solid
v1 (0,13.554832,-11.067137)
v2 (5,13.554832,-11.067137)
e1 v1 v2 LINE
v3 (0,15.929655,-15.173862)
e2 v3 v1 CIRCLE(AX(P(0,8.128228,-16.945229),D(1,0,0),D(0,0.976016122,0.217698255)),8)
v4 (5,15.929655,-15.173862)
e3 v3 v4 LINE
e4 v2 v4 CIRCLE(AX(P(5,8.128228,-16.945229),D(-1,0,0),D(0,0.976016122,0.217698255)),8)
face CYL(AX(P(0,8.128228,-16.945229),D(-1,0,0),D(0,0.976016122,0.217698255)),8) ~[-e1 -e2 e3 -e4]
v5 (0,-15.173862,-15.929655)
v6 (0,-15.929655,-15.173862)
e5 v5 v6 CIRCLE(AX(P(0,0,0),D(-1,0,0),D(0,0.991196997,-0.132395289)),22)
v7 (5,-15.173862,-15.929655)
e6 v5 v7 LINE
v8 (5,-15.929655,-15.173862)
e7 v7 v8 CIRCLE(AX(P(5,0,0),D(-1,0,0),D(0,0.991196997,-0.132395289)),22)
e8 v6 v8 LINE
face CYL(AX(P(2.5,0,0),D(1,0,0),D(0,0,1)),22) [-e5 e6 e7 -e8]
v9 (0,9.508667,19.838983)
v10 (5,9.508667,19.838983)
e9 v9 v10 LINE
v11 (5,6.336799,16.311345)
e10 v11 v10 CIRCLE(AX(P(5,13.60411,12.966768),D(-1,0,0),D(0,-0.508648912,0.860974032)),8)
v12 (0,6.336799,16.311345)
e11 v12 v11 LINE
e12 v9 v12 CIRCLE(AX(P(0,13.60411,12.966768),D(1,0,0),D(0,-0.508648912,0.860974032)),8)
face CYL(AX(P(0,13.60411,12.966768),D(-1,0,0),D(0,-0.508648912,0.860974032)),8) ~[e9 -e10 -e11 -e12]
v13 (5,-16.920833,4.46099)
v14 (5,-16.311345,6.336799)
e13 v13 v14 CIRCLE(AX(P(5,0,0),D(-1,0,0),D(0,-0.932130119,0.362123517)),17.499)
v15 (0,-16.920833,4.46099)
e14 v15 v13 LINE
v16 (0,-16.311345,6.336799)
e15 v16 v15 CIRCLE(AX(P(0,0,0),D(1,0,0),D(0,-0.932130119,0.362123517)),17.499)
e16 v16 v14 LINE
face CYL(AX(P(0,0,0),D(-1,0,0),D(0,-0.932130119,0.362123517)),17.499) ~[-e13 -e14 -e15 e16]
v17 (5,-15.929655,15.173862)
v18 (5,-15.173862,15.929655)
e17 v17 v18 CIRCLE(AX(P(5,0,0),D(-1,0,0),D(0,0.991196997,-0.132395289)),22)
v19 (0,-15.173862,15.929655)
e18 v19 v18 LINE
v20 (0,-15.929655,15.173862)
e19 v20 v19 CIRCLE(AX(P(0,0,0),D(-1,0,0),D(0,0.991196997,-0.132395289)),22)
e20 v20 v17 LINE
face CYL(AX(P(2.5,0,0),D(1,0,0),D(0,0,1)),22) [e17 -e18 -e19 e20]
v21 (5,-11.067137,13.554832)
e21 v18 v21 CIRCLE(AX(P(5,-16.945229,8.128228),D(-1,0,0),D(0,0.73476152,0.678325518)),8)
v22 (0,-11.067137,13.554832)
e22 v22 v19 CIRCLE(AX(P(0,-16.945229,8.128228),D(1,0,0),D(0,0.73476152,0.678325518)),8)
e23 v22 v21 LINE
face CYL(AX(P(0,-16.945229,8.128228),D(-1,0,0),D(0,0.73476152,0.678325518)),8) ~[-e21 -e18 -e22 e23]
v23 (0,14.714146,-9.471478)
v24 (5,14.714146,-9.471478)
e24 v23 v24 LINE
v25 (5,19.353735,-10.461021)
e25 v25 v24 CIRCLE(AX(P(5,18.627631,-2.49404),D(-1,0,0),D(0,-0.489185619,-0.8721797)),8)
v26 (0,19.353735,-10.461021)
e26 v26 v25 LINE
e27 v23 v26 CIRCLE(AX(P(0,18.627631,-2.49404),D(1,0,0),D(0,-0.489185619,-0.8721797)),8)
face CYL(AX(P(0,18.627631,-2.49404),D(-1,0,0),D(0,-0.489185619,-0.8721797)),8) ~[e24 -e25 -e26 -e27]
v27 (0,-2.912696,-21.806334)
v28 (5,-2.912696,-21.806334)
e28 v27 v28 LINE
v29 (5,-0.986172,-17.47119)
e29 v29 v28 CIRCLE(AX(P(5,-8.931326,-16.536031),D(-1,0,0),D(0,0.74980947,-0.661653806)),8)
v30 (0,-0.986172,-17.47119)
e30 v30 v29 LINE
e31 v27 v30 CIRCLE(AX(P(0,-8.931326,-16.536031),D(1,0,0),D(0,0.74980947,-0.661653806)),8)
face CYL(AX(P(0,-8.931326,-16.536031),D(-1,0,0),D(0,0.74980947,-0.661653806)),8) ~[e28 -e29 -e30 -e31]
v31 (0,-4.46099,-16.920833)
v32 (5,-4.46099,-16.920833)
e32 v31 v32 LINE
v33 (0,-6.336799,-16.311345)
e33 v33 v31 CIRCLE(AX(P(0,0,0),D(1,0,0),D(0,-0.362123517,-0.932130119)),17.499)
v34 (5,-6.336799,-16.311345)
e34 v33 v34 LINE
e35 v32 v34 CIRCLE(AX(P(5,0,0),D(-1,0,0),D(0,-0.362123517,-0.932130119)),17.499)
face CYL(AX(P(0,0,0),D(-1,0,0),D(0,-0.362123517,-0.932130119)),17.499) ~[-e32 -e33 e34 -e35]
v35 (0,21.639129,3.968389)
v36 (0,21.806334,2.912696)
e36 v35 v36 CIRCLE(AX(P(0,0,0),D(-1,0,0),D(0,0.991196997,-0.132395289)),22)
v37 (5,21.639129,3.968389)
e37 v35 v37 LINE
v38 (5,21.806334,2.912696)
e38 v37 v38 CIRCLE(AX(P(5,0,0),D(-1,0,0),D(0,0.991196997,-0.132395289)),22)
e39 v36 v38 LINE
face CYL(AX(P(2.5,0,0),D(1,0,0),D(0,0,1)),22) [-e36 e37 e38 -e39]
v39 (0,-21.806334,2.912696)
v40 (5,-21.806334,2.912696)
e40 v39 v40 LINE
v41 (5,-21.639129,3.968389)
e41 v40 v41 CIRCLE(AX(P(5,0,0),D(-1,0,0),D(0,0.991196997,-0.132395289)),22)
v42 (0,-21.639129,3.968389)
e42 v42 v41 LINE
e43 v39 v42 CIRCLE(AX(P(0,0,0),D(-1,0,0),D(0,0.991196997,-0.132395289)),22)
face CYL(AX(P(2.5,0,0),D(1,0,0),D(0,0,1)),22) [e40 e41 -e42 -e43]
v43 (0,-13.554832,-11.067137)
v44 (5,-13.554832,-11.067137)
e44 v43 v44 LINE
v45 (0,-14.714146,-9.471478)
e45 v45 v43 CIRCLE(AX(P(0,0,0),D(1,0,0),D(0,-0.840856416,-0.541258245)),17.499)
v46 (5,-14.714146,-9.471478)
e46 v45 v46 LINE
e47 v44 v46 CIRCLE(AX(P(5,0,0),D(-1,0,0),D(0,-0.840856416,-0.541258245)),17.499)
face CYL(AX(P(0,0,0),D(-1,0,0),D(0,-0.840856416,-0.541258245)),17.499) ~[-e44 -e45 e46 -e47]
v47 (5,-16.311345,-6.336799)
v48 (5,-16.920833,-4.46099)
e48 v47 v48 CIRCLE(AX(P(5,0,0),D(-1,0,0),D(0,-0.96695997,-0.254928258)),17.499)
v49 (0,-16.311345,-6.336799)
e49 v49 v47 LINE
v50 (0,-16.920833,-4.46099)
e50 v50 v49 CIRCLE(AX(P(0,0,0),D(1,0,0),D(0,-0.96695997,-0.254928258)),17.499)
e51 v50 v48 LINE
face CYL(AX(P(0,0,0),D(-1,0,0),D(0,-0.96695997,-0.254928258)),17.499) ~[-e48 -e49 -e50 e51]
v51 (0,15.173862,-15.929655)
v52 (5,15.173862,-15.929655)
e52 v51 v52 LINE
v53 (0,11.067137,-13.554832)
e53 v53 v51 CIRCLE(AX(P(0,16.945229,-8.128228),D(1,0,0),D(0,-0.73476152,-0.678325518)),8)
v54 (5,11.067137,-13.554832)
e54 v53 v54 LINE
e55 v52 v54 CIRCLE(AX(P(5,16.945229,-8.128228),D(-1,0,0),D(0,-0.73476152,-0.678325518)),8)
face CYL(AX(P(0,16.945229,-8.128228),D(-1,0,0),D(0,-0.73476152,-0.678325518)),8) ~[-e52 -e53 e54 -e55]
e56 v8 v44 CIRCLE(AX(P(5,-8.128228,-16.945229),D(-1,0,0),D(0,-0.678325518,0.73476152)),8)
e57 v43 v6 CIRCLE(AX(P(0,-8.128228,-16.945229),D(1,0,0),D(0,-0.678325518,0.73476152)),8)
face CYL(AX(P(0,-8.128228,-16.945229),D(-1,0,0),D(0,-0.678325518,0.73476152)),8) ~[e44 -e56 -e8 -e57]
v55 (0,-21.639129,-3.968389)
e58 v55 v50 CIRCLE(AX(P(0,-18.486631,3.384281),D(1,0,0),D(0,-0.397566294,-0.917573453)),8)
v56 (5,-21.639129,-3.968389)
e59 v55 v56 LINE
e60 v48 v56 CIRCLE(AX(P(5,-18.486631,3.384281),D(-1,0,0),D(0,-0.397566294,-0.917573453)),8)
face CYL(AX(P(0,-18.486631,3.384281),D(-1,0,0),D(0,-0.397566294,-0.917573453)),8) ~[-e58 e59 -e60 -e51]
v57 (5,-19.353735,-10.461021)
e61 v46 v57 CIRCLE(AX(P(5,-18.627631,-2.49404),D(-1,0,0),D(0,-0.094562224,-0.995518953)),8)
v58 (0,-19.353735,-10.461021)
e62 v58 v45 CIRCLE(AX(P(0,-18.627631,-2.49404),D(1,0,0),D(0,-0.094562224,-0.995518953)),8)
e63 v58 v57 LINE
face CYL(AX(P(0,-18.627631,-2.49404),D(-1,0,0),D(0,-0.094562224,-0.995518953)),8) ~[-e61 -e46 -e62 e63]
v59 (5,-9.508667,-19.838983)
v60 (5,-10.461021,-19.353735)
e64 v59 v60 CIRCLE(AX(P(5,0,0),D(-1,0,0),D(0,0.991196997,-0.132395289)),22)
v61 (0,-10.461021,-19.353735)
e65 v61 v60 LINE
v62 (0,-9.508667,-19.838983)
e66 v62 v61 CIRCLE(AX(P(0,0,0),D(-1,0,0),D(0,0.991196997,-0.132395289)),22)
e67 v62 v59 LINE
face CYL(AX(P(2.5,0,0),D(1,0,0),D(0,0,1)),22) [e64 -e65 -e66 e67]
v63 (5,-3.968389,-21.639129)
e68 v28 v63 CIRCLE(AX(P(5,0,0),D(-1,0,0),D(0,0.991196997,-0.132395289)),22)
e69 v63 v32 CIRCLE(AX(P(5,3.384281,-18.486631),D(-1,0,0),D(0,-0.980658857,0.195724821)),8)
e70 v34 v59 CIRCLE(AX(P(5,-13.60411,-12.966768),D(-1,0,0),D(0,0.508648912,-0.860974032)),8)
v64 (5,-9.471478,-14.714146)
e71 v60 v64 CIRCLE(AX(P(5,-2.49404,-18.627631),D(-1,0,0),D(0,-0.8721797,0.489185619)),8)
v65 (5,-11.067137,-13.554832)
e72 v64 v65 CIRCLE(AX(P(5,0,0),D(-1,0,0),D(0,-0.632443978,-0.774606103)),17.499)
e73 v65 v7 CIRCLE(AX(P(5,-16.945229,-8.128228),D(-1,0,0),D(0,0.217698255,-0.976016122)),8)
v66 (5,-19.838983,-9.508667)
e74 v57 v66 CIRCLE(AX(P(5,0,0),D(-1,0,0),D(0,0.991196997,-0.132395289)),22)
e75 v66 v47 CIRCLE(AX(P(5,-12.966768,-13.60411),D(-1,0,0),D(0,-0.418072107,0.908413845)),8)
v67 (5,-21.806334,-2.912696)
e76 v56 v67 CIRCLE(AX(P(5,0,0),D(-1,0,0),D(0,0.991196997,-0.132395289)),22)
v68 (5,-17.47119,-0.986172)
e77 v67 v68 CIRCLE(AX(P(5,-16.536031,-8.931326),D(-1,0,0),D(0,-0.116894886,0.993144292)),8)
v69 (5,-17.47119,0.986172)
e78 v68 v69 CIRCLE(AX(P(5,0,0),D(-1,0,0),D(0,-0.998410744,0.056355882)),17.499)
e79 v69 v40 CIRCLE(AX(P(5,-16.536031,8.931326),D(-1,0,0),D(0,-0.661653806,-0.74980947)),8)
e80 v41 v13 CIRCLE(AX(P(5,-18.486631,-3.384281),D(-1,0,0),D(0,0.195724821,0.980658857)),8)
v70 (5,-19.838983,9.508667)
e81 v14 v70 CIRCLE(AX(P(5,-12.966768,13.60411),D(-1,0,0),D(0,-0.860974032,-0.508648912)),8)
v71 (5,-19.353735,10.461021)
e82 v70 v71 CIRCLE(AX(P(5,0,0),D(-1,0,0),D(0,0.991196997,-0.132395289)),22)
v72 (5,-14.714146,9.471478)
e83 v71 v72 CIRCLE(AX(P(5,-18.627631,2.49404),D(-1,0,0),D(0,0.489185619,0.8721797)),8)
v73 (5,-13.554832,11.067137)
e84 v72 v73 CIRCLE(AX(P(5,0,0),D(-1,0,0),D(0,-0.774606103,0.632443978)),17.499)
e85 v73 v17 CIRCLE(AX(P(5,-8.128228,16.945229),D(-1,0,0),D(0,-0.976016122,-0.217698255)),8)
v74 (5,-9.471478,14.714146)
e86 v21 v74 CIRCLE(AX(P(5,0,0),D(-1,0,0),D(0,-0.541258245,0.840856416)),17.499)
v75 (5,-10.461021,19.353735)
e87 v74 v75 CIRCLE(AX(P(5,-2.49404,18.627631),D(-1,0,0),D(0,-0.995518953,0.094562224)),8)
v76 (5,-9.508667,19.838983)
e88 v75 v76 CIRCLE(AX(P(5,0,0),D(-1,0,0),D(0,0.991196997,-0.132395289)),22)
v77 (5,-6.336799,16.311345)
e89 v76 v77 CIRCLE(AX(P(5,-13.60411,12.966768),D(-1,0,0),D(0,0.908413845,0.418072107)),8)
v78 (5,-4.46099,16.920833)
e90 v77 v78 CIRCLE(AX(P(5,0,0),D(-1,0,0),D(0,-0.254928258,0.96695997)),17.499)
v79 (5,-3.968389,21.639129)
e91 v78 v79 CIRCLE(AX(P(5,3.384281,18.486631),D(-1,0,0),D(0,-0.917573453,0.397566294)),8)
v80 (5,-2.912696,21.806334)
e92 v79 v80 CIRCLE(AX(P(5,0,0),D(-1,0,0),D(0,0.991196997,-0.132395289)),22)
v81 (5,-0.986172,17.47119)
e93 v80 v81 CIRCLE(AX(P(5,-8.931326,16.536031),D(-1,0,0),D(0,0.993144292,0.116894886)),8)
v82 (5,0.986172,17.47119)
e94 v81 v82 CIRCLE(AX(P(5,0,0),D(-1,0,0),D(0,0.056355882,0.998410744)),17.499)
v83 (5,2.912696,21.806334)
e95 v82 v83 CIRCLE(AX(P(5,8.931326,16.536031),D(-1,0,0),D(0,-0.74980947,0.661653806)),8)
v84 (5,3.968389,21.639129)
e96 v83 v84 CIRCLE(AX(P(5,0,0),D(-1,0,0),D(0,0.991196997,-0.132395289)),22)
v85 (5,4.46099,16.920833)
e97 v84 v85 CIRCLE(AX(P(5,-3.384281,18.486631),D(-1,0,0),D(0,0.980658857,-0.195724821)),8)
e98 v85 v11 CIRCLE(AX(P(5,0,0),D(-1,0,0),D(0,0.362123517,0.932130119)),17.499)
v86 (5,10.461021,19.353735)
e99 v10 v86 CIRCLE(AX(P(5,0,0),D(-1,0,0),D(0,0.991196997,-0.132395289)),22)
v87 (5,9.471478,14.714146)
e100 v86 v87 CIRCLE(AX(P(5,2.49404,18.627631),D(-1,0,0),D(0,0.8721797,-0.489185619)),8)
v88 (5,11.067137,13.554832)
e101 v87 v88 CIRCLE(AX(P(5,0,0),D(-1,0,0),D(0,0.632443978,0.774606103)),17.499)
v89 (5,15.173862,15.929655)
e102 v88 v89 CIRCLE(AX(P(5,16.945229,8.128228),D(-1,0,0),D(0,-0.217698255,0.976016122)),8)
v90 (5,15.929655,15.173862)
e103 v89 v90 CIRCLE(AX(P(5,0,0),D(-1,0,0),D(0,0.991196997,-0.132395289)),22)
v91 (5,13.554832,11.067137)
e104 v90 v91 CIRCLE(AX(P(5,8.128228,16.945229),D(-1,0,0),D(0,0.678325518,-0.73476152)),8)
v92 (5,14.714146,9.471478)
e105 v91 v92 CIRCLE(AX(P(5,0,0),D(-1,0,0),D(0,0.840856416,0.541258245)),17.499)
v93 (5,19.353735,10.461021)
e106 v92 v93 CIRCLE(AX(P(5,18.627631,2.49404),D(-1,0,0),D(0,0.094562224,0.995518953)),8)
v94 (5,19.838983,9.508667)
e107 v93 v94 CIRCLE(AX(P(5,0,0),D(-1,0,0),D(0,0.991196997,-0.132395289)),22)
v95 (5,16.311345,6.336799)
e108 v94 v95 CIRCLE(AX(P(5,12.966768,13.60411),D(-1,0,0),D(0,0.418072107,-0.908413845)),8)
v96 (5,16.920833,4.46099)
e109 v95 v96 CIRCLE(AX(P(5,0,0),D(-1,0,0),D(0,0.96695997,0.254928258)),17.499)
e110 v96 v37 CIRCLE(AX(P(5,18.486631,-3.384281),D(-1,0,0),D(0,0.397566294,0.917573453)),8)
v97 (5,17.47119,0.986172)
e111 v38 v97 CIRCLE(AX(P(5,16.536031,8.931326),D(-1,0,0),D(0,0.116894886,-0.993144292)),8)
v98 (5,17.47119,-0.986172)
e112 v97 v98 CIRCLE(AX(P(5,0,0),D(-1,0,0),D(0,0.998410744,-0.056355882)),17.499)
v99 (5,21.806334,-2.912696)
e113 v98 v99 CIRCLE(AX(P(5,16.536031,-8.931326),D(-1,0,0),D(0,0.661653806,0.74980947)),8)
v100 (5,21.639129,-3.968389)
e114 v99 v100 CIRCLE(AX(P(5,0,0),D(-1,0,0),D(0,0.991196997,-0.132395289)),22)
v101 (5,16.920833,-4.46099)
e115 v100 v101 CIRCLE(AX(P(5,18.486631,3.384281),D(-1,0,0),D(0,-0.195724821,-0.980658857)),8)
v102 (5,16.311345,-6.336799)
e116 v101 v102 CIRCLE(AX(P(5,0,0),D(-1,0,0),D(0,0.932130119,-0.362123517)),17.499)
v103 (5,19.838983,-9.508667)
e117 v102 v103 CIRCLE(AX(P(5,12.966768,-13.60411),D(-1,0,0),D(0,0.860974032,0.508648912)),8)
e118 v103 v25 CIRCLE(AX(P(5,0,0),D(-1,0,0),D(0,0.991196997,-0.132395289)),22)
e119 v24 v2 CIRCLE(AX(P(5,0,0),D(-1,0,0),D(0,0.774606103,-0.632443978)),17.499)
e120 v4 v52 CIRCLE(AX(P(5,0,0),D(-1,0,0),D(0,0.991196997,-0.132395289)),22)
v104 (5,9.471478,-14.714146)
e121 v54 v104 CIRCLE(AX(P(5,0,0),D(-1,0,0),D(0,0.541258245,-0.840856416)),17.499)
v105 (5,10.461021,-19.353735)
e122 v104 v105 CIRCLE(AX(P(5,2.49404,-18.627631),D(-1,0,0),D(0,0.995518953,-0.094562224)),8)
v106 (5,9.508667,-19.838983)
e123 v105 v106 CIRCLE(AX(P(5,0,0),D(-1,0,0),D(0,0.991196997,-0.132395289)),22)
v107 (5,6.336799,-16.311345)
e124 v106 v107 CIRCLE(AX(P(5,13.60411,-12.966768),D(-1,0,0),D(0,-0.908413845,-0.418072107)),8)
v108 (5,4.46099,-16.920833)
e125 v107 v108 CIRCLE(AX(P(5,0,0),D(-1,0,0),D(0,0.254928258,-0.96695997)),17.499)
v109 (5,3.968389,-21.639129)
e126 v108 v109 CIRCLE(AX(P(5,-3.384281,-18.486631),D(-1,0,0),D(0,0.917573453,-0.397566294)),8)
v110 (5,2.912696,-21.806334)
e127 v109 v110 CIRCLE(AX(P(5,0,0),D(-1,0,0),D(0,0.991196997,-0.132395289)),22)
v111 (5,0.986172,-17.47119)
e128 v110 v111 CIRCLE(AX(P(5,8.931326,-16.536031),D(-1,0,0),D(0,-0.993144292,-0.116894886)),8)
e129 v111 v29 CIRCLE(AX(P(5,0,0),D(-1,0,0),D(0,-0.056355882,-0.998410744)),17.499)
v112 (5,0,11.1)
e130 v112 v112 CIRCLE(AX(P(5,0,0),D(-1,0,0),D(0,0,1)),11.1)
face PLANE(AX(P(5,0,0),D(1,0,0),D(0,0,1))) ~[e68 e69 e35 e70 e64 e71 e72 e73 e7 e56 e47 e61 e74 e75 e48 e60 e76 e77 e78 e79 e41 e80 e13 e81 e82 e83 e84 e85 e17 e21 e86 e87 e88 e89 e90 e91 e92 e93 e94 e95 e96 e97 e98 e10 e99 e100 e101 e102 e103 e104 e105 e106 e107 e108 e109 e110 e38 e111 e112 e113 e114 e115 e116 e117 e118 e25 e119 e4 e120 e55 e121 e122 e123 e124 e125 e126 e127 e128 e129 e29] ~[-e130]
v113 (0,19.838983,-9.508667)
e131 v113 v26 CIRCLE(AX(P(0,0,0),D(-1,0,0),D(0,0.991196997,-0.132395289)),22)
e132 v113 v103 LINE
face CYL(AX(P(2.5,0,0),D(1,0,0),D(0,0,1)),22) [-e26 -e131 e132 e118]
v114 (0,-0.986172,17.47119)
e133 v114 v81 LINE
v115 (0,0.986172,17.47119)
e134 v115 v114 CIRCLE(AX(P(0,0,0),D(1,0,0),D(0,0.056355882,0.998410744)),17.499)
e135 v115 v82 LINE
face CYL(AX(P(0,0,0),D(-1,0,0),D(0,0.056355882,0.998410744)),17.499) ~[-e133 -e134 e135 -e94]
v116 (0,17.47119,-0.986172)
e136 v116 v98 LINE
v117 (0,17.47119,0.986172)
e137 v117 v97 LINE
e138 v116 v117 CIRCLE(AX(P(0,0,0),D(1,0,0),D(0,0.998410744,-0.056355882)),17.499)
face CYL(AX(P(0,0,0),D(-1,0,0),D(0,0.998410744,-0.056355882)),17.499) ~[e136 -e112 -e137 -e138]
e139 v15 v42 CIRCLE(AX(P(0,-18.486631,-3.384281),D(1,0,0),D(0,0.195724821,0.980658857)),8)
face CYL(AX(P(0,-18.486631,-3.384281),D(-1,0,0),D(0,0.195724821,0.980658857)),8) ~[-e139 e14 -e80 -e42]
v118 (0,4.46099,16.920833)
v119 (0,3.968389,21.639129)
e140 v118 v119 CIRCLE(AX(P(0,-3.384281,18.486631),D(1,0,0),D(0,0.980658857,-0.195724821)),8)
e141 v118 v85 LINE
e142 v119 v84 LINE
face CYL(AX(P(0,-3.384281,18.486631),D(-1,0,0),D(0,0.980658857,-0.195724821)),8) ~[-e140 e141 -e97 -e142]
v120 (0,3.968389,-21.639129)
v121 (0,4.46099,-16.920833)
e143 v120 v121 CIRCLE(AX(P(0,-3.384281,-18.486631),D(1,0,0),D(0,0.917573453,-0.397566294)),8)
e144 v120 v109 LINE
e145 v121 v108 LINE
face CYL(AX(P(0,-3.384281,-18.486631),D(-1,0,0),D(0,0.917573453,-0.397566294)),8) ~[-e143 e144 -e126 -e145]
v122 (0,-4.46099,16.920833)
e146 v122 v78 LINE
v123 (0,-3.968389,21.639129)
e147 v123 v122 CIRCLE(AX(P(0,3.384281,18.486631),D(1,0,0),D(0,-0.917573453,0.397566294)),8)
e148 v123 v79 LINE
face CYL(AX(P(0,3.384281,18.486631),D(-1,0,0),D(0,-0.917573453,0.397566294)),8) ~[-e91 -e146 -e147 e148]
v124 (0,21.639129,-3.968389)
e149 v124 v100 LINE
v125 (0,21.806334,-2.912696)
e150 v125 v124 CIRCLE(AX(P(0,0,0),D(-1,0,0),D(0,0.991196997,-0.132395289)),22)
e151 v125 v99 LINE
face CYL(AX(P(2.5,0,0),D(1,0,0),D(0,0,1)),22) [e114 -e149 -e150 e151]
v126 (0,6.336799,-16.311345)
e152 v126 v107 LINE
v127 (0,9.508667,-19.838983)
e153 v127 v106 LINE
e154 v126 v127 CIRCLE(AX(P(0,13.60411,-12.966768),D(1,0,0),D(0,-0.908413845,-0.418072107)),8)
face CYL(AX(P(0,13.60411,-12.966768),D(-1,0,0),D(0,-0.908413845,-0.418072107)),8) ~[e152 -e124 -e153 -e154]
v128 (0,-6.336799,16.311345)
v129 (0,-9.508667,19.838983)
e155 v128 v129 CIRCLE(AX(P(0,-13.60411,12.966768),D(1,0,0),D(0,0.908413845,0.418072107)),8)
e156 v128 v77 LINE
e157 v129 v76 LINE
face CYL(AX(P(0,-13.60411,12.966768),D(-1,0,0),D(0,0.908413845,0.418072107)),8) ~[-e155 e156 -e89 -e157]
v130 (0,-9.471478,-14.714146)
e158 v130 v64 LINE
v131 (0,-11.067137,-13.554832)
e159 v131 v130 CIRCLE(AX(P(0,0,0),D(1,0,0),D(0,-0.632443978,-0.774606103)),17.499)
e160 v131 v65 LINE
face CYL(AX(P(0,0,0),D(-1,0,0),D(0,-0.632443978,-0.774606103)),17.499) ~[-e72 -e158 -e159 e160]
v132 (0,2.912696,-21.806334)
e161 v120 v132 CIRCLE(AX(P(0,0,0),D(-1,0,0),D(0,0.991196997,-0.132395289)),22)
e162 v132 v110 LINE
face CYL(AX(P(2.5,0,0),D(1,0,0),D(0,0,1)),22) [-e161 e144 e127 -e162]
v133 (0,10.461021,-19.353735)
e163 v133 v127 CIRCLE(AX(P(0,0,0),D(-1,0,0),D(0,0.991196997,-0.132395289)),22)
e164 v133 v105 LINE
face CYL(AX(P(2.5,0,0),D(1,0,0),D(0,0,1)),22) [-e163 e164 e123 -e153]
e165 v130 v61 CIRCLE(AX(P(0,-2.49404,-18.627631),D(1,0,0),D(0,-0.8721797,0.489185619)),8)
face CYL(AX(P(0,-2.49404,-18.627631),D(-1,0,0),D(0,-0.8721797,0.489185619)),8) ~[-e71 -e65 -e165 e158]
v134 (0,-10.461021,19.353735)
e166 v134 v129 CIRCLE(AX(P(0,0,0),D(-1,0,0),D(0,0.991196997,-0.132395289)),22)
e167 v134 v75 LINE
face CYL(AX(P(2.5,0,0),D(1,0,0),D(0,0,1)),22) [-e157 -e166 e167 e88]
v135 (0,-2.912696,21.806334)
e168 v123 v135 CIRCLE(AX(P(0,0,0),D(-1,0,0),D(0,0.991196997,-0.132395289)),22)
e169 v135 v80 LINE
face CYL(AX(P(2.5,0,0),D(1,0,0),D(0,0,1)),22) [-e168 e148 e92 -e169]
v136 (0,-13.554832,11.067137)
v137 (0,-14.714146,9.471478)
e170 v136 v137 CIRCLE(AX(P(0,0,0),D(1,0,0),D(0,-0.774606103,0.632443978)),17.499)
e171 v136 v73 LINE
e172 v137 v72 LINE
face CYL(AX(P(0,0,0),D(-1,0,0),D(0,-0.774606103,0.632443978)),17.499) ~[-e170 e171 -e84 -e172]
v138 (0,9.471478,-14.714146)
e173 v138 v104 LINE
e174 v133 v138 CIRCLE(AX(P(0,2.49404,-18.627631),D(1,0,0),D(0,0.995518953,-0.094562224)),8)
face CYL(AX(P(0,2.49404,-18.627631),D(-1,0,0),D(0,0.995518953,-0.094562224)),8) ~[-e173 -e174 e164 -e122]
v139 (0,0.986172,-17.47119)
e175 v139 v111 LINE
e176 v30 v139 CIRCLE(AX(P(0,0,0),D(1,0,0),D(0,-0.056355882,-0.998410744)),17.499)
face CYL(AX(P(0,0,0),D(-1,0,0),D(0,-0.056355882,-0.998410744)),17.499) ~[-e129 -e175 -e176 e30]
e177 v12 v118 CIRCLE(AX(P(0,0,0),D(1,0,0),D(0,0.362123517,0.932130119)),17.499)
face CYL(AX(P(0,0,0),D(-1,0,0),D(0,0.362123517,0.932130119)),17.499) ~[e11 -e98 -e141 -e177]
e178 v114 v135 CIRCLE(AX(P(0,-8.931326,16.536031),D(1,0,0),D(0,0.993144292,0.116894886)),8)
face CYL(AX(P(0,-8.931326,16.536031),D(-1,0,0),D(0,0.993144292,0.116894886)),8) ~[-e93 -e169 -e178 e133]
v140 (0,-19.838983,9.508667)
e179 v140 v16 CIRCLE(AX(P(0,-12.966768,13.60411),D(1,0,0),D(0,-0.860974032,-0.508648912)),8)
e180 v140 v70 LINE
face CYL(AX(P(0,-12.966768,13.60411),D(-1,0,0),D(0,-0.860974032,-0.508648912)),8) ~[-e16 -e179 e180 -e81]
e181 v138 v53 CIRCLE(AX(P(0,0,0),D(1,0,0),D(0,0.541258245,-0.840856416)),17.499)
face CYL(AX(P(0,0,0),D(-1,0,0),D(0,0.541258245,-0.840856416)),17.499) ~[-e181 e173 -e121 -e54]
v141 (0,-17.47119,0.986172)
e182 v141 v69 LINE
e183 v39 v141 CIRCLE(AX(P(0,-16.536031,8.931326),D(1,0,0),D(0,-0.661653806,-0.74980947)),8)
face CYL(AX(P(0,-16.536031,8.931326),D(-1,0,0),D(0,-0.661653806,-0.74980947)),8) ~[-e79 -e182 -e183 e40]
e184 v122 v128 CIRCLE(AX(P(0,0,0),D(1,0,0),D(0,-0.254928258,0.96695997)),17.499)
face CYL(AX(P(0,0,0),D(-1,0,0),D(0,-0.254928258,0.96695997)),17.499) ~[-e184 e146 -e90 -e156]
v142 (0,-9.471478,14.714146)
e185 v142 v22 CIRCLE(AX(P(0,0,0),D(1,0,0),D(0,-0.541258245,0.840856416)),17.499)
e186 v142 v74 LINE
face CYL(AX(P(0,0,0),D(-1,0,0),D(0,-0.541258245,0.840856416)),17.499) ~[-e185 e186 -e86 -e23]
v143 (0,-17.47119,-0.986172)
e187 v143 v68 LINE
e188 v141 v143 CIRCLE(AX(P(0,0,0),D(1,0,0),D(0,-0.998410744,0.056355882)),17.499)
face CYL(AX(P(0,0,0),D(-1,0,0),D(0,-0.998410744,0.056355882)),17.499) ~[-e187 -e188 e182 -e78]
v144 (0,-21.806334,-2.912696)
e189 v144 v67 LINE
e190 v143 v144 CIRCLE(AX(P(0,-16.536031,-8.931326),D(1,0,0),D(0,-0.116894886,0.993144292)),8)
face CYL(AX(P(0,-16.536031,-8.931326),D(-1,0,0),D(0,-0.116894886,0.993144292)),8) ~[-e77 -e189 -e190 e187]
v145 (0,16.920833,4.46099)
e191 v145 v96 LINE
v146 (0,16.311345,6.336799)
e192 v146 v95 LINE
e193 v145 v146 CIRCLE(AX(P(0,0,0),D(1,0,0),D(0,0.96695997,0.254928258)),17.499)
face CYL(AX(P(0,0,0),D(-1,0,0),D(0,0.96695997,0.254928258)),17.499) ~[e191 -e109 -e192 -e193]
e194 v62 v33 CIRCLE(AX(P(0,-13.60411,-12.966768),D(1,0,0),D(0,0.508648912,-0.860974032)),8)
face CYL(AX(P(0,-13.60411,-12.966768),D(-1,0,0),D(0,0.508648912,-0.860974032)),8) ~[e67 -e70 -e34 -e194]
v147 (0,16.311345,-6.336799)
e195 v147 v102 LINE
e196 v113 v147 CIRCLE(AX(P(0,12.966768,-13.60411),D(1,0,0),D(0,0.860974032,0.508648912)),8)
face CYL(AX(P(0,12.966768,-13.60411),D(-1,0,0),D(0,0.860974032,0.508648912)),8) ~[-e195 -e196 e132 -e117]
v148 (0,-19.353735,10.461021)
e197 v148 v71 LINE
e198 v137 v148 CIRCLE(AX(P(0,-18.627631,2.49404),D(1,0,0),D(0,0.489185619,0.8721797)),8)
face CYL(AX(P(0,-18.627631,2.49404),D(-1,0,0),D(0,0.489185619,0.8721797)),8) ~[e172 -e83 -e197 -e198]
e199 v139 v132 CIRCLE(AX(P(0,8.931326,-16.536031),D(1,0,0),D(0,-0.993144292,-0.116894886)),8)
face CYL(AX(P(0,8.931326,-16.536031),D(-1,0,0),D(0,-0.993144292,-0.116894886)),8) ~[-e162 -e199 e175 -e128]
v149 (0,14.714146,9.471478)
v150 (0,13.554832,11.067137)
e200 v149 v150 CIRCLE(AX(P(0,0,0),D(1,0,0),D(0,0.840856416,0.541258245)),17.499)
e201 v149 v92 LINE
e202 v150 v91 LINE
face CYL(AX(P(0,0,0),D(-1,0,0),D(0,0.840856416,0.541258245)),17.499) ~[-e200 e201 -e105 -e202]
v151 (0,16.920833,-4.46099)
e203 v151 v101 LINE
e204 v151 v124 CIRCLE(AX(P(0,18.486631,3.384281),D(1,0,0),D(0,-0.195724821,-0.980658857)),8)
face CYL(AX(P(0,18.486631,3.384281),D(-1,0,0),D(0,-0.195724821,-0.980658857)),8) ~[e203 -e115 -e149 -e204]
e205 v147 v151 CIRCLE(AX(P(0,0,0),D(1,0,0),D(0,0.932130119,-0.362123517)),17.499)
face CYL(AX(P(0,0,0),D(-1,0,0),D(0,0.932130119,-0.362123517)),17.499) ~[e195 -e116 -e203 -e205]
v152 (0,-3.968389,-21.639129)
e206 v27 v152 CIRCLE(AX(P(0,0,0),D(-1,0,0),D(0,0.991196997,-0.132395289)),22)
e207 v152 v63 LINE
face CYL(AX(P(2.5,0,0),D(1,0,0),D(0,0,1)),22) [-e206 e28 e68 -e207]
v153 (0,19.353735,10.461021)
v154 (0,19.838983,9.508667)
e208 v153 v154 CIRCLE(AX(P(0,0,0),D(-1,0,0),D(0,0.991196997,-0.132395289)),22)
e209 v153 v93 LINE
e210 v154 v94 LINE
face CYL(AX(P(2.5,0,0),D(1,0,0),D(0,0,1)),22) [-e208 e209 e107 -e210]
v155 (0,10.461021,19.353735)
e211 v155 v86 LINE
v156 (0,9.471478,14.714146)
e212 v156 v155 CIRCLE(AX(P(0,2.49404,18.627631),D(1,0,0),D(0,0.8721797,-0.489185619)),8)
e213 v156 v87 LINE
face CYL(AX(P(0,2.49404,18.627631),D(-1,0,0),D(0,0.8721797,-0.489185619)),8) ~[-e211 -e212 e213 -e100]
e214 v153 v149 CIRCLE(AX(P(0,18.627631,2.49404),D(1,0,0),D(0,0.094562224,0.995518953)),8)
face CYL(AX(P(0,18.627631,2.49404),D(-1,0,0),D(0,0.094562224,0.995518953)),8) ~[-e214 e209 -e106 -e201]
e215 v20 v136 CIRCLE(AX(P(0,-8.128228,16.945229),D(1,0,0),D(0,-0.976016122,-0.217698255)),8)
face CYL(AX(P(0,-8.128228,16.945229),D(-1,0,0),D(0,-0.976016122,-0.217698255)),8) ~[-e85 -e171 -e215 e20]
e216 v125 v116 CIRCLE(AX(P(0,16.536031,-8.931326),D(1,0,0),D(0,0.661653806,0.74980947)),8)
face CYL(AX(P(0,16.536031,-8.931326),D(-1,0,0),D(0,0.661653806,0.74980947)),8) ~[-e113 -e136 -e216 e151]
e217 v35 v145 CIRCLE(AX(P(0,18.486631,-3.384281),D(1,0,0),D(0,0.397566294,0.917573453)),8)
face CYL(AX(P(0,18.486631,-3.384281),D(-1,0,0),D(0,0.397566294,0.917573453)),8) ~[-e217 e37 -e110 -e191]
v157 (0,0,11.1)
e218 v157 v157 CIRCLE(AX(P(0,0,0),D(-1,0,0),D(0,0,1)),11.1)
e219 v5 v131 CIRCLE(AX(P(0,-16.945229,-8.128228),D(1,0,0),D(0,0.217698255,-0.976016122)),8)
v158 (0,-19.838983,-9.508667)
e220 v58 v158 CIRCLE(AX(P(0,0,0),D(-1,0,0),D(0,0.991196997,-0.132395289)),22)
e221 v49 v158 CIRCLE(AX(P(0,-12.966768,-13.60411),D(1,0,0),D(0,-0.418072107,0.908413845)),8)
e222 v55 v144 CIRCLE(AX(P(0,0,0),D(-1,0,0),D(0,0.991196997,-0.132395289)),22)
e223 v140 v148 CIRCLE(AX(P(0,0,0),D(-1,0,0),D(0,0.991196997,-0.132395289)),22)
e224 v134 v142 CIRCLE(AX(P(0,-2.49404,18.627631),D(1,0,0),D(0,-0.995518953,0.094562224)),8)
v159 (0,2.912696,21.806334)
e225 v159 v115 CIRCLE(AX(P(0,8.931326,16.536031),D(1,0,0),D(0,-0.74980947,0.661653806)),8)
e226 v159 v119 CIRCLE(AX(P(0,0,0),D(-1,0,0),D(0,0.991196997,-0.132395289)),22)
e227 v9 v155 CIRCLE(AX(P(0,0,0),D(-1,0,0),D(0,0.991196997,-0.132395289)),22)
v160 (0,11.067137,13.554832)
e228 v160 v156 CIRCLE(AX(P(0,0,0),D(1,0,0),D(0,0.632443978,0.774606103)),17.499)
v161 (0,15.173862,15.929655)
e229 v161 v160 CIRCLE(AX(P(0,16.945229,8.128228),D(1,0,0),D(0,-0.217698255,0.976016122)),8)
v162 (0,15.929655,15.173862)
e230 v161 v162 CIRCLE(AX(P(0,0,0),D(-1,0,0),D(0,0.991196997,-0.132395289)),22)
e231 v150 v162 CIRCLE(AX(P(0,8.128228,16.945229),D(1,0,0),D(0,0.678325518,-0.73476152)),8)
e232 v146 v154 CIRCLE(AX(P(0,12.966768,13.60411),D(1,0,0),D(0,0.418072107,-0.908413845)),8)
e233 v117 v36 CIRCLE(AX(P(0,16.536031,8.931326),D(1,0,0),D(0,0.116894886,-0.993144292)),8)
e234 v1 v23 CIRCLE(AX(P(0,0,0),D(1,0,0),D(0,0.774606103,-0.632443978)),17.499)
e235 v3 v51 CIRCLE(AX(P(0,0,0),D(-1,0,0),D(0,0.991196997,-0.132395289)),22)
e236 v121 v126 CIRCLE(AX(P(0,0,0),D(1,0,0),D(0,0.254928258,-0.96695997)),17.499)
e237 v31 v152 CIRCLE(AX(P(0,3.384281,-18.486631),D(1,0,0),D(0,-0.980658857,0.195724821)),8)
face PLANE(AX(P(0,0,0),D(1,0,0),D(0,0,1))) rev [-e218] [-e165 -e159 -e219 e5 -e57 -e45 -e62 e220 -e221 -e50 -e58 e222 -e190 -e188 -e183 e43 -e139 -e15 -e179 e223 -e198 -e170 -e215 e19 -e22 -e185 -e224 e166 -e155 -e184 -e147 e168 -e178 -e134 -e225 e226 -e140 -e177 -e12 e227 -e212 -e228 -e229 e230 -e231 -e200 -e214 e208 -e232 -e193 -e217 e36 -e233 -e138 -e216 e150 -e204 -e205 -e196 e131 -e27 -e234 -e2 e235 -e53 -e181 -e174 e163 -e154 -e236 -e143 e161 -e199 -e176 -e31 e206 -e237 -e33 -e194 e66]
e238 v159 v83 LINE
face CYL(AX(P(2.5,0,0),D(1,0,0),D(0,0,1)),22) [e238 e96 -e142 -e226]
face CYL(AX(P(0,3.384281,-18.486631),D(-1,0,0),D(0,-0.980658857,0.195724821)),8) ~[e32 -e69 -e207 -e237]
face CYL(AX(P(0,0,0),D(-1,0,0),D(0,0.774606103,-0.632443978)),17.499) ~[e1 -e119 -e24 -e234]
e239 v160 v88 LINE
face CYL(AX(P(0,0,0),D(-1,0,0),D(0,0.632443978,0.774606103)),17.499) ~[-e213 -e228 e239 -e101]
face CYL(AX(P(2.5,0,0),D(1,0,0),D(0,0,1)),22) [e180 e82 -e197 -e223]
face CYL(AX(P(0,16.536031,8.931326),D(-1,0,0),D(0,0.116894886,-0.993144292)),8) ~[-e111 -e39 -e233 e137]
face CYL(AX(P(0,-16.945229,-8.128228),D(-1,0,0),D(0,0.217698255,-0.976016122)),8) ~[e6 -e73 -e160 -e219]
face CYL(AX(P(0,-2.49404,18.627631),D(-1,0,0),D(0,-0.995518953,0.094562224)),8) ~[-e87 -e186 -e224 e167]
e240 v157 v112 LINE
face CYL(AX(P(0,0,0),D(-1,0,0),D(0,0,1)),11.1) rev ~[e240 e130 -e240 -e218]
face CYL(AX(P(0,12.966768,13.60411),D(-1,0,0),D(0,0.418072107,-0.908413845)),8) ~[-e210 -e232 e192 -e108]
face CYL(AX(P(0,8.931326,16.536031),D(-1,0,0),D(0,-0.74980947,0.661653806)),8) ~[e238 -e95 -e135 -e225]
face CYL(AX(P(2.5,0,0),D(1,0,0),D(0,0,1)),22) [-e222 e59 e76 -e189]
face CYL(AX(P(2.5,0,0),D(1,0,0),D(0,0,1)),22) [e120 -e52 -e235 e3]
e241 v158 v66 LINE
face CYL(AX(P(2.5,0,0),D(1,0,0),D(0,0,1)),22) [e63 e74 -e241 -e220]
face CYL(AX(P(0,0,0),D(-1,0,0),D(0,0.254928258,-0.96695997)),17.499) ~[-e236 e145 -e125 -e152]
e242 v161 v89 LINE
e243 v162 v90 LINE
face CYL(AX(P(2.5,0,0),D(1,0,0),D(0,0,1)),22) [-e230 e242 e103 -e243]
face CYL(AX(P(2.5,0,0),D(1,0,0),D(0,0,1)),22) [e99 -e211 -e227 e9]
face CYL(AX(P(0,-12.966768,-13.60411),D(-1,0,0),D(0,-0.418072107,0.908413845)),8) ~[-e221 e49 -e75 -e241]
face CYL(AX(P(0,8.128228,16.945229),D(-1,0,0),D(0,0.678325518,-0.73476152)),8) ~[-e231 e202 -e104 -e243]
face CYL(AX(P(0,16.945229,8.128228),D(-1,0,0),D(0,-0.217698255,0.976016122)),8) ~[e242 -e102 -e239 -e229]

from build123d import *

# Parameters (mm, degrees)
BASPROSKE_W        = 5
BASPROSKE_H        = 22
TOOTHCUT_DEPTH     = 32.511902513
TEETHCUTS_COUNT    = 20
TEETHCUTS_ANGLE    = 342
BORSKE_R           = 0.5
BORE_DEPTH         = 50.0000508
SKETCH1_R          = 11.1
CUT_EXTRUDE1_DEPTH = 10


with BuildPart() as part:
    # BasProSke → Base-Revolve (revolve)
    with BuildSketch(Plane(origin=(0, 0, 0), x_dir=(1, 0, 0), z_dir=(0, 1, 0)), mode=Mode.PRIVATE) as base_revolve_sk:
        with Locations((2.5, 11)):
            Rectangle(BASPROSKE_W, BASPROSKE_H)
    revolve(base_revolve_sk.sketch.rotate(Axis((-10, 0, 0), (1, 0, 0)), 180), axis=Axis((-10, 0, 0), (1, 0, 0)))

    # TooCutSke → ToothCut (cut, through all)
    with BuildSketch(Plane(origin=(0, 0, 0), x_dir=(0, 0, -1), z_dir=(1, 0, 0))):
        with BuildLine():
            ThreePointArc((0.986171591, 17.471189616), (0, 17.499), (-0.986171591, 17.471189616))
            ThreePointArc((-0.986171591, 17.471189616), (-1.626916196, 19.798789858), (-2.932850173, 21.829260982))
            ThreePointArc((-2.932850173, 21.829260982), (0, 22.0254), (2.932850173, 21.829260982))
            ThreePointArc((2.932850173, 21.829260982), (1.626916196, 19.798789858), (0.986171591, 17.471189616))
        make_face()
    toothcut = extrude(amount=TOOTHCUT_DEPTH, mode=Mode.SUBTRACT)

    # TeethCuts: ToothCut ×20 about axis
    teethcuts_axis = Axis((-10, 0, 0), (1, 0, 0))
    for i in range(1, TEETHCUTS_COUNT):
        add(toothcut.rotate(teethcuts_axis, i * TEETHCUTS_ANGLE / (TEETHCUTS_COUNT - 1)), mode=Mode.SUBTRACT)

    # BorSke → Bore (cut, symmetric)
    with BuildSketch(Plane(origin=(0, 0, 0), x_dir=(0, 0, -1), z_dir=(1, 0, 0))):
        with Locations(Location((0, 0, 0), (0, 0, 180))):
            Circle(BORSKE_R)
    extrude(amount=BORE_DEPTH, both=True, mode=Mode.SUBTRACT)

    # Sketch1 → Cut-Extrude1 (cut)
    with BuildSketch(Plane.ZY):
        Circle(SKETCH1_R)
    extrude(amount=-CUT_EXTRUDE1_DEPTH, mode=Mode.SUBTRACT)


solid = part.part
